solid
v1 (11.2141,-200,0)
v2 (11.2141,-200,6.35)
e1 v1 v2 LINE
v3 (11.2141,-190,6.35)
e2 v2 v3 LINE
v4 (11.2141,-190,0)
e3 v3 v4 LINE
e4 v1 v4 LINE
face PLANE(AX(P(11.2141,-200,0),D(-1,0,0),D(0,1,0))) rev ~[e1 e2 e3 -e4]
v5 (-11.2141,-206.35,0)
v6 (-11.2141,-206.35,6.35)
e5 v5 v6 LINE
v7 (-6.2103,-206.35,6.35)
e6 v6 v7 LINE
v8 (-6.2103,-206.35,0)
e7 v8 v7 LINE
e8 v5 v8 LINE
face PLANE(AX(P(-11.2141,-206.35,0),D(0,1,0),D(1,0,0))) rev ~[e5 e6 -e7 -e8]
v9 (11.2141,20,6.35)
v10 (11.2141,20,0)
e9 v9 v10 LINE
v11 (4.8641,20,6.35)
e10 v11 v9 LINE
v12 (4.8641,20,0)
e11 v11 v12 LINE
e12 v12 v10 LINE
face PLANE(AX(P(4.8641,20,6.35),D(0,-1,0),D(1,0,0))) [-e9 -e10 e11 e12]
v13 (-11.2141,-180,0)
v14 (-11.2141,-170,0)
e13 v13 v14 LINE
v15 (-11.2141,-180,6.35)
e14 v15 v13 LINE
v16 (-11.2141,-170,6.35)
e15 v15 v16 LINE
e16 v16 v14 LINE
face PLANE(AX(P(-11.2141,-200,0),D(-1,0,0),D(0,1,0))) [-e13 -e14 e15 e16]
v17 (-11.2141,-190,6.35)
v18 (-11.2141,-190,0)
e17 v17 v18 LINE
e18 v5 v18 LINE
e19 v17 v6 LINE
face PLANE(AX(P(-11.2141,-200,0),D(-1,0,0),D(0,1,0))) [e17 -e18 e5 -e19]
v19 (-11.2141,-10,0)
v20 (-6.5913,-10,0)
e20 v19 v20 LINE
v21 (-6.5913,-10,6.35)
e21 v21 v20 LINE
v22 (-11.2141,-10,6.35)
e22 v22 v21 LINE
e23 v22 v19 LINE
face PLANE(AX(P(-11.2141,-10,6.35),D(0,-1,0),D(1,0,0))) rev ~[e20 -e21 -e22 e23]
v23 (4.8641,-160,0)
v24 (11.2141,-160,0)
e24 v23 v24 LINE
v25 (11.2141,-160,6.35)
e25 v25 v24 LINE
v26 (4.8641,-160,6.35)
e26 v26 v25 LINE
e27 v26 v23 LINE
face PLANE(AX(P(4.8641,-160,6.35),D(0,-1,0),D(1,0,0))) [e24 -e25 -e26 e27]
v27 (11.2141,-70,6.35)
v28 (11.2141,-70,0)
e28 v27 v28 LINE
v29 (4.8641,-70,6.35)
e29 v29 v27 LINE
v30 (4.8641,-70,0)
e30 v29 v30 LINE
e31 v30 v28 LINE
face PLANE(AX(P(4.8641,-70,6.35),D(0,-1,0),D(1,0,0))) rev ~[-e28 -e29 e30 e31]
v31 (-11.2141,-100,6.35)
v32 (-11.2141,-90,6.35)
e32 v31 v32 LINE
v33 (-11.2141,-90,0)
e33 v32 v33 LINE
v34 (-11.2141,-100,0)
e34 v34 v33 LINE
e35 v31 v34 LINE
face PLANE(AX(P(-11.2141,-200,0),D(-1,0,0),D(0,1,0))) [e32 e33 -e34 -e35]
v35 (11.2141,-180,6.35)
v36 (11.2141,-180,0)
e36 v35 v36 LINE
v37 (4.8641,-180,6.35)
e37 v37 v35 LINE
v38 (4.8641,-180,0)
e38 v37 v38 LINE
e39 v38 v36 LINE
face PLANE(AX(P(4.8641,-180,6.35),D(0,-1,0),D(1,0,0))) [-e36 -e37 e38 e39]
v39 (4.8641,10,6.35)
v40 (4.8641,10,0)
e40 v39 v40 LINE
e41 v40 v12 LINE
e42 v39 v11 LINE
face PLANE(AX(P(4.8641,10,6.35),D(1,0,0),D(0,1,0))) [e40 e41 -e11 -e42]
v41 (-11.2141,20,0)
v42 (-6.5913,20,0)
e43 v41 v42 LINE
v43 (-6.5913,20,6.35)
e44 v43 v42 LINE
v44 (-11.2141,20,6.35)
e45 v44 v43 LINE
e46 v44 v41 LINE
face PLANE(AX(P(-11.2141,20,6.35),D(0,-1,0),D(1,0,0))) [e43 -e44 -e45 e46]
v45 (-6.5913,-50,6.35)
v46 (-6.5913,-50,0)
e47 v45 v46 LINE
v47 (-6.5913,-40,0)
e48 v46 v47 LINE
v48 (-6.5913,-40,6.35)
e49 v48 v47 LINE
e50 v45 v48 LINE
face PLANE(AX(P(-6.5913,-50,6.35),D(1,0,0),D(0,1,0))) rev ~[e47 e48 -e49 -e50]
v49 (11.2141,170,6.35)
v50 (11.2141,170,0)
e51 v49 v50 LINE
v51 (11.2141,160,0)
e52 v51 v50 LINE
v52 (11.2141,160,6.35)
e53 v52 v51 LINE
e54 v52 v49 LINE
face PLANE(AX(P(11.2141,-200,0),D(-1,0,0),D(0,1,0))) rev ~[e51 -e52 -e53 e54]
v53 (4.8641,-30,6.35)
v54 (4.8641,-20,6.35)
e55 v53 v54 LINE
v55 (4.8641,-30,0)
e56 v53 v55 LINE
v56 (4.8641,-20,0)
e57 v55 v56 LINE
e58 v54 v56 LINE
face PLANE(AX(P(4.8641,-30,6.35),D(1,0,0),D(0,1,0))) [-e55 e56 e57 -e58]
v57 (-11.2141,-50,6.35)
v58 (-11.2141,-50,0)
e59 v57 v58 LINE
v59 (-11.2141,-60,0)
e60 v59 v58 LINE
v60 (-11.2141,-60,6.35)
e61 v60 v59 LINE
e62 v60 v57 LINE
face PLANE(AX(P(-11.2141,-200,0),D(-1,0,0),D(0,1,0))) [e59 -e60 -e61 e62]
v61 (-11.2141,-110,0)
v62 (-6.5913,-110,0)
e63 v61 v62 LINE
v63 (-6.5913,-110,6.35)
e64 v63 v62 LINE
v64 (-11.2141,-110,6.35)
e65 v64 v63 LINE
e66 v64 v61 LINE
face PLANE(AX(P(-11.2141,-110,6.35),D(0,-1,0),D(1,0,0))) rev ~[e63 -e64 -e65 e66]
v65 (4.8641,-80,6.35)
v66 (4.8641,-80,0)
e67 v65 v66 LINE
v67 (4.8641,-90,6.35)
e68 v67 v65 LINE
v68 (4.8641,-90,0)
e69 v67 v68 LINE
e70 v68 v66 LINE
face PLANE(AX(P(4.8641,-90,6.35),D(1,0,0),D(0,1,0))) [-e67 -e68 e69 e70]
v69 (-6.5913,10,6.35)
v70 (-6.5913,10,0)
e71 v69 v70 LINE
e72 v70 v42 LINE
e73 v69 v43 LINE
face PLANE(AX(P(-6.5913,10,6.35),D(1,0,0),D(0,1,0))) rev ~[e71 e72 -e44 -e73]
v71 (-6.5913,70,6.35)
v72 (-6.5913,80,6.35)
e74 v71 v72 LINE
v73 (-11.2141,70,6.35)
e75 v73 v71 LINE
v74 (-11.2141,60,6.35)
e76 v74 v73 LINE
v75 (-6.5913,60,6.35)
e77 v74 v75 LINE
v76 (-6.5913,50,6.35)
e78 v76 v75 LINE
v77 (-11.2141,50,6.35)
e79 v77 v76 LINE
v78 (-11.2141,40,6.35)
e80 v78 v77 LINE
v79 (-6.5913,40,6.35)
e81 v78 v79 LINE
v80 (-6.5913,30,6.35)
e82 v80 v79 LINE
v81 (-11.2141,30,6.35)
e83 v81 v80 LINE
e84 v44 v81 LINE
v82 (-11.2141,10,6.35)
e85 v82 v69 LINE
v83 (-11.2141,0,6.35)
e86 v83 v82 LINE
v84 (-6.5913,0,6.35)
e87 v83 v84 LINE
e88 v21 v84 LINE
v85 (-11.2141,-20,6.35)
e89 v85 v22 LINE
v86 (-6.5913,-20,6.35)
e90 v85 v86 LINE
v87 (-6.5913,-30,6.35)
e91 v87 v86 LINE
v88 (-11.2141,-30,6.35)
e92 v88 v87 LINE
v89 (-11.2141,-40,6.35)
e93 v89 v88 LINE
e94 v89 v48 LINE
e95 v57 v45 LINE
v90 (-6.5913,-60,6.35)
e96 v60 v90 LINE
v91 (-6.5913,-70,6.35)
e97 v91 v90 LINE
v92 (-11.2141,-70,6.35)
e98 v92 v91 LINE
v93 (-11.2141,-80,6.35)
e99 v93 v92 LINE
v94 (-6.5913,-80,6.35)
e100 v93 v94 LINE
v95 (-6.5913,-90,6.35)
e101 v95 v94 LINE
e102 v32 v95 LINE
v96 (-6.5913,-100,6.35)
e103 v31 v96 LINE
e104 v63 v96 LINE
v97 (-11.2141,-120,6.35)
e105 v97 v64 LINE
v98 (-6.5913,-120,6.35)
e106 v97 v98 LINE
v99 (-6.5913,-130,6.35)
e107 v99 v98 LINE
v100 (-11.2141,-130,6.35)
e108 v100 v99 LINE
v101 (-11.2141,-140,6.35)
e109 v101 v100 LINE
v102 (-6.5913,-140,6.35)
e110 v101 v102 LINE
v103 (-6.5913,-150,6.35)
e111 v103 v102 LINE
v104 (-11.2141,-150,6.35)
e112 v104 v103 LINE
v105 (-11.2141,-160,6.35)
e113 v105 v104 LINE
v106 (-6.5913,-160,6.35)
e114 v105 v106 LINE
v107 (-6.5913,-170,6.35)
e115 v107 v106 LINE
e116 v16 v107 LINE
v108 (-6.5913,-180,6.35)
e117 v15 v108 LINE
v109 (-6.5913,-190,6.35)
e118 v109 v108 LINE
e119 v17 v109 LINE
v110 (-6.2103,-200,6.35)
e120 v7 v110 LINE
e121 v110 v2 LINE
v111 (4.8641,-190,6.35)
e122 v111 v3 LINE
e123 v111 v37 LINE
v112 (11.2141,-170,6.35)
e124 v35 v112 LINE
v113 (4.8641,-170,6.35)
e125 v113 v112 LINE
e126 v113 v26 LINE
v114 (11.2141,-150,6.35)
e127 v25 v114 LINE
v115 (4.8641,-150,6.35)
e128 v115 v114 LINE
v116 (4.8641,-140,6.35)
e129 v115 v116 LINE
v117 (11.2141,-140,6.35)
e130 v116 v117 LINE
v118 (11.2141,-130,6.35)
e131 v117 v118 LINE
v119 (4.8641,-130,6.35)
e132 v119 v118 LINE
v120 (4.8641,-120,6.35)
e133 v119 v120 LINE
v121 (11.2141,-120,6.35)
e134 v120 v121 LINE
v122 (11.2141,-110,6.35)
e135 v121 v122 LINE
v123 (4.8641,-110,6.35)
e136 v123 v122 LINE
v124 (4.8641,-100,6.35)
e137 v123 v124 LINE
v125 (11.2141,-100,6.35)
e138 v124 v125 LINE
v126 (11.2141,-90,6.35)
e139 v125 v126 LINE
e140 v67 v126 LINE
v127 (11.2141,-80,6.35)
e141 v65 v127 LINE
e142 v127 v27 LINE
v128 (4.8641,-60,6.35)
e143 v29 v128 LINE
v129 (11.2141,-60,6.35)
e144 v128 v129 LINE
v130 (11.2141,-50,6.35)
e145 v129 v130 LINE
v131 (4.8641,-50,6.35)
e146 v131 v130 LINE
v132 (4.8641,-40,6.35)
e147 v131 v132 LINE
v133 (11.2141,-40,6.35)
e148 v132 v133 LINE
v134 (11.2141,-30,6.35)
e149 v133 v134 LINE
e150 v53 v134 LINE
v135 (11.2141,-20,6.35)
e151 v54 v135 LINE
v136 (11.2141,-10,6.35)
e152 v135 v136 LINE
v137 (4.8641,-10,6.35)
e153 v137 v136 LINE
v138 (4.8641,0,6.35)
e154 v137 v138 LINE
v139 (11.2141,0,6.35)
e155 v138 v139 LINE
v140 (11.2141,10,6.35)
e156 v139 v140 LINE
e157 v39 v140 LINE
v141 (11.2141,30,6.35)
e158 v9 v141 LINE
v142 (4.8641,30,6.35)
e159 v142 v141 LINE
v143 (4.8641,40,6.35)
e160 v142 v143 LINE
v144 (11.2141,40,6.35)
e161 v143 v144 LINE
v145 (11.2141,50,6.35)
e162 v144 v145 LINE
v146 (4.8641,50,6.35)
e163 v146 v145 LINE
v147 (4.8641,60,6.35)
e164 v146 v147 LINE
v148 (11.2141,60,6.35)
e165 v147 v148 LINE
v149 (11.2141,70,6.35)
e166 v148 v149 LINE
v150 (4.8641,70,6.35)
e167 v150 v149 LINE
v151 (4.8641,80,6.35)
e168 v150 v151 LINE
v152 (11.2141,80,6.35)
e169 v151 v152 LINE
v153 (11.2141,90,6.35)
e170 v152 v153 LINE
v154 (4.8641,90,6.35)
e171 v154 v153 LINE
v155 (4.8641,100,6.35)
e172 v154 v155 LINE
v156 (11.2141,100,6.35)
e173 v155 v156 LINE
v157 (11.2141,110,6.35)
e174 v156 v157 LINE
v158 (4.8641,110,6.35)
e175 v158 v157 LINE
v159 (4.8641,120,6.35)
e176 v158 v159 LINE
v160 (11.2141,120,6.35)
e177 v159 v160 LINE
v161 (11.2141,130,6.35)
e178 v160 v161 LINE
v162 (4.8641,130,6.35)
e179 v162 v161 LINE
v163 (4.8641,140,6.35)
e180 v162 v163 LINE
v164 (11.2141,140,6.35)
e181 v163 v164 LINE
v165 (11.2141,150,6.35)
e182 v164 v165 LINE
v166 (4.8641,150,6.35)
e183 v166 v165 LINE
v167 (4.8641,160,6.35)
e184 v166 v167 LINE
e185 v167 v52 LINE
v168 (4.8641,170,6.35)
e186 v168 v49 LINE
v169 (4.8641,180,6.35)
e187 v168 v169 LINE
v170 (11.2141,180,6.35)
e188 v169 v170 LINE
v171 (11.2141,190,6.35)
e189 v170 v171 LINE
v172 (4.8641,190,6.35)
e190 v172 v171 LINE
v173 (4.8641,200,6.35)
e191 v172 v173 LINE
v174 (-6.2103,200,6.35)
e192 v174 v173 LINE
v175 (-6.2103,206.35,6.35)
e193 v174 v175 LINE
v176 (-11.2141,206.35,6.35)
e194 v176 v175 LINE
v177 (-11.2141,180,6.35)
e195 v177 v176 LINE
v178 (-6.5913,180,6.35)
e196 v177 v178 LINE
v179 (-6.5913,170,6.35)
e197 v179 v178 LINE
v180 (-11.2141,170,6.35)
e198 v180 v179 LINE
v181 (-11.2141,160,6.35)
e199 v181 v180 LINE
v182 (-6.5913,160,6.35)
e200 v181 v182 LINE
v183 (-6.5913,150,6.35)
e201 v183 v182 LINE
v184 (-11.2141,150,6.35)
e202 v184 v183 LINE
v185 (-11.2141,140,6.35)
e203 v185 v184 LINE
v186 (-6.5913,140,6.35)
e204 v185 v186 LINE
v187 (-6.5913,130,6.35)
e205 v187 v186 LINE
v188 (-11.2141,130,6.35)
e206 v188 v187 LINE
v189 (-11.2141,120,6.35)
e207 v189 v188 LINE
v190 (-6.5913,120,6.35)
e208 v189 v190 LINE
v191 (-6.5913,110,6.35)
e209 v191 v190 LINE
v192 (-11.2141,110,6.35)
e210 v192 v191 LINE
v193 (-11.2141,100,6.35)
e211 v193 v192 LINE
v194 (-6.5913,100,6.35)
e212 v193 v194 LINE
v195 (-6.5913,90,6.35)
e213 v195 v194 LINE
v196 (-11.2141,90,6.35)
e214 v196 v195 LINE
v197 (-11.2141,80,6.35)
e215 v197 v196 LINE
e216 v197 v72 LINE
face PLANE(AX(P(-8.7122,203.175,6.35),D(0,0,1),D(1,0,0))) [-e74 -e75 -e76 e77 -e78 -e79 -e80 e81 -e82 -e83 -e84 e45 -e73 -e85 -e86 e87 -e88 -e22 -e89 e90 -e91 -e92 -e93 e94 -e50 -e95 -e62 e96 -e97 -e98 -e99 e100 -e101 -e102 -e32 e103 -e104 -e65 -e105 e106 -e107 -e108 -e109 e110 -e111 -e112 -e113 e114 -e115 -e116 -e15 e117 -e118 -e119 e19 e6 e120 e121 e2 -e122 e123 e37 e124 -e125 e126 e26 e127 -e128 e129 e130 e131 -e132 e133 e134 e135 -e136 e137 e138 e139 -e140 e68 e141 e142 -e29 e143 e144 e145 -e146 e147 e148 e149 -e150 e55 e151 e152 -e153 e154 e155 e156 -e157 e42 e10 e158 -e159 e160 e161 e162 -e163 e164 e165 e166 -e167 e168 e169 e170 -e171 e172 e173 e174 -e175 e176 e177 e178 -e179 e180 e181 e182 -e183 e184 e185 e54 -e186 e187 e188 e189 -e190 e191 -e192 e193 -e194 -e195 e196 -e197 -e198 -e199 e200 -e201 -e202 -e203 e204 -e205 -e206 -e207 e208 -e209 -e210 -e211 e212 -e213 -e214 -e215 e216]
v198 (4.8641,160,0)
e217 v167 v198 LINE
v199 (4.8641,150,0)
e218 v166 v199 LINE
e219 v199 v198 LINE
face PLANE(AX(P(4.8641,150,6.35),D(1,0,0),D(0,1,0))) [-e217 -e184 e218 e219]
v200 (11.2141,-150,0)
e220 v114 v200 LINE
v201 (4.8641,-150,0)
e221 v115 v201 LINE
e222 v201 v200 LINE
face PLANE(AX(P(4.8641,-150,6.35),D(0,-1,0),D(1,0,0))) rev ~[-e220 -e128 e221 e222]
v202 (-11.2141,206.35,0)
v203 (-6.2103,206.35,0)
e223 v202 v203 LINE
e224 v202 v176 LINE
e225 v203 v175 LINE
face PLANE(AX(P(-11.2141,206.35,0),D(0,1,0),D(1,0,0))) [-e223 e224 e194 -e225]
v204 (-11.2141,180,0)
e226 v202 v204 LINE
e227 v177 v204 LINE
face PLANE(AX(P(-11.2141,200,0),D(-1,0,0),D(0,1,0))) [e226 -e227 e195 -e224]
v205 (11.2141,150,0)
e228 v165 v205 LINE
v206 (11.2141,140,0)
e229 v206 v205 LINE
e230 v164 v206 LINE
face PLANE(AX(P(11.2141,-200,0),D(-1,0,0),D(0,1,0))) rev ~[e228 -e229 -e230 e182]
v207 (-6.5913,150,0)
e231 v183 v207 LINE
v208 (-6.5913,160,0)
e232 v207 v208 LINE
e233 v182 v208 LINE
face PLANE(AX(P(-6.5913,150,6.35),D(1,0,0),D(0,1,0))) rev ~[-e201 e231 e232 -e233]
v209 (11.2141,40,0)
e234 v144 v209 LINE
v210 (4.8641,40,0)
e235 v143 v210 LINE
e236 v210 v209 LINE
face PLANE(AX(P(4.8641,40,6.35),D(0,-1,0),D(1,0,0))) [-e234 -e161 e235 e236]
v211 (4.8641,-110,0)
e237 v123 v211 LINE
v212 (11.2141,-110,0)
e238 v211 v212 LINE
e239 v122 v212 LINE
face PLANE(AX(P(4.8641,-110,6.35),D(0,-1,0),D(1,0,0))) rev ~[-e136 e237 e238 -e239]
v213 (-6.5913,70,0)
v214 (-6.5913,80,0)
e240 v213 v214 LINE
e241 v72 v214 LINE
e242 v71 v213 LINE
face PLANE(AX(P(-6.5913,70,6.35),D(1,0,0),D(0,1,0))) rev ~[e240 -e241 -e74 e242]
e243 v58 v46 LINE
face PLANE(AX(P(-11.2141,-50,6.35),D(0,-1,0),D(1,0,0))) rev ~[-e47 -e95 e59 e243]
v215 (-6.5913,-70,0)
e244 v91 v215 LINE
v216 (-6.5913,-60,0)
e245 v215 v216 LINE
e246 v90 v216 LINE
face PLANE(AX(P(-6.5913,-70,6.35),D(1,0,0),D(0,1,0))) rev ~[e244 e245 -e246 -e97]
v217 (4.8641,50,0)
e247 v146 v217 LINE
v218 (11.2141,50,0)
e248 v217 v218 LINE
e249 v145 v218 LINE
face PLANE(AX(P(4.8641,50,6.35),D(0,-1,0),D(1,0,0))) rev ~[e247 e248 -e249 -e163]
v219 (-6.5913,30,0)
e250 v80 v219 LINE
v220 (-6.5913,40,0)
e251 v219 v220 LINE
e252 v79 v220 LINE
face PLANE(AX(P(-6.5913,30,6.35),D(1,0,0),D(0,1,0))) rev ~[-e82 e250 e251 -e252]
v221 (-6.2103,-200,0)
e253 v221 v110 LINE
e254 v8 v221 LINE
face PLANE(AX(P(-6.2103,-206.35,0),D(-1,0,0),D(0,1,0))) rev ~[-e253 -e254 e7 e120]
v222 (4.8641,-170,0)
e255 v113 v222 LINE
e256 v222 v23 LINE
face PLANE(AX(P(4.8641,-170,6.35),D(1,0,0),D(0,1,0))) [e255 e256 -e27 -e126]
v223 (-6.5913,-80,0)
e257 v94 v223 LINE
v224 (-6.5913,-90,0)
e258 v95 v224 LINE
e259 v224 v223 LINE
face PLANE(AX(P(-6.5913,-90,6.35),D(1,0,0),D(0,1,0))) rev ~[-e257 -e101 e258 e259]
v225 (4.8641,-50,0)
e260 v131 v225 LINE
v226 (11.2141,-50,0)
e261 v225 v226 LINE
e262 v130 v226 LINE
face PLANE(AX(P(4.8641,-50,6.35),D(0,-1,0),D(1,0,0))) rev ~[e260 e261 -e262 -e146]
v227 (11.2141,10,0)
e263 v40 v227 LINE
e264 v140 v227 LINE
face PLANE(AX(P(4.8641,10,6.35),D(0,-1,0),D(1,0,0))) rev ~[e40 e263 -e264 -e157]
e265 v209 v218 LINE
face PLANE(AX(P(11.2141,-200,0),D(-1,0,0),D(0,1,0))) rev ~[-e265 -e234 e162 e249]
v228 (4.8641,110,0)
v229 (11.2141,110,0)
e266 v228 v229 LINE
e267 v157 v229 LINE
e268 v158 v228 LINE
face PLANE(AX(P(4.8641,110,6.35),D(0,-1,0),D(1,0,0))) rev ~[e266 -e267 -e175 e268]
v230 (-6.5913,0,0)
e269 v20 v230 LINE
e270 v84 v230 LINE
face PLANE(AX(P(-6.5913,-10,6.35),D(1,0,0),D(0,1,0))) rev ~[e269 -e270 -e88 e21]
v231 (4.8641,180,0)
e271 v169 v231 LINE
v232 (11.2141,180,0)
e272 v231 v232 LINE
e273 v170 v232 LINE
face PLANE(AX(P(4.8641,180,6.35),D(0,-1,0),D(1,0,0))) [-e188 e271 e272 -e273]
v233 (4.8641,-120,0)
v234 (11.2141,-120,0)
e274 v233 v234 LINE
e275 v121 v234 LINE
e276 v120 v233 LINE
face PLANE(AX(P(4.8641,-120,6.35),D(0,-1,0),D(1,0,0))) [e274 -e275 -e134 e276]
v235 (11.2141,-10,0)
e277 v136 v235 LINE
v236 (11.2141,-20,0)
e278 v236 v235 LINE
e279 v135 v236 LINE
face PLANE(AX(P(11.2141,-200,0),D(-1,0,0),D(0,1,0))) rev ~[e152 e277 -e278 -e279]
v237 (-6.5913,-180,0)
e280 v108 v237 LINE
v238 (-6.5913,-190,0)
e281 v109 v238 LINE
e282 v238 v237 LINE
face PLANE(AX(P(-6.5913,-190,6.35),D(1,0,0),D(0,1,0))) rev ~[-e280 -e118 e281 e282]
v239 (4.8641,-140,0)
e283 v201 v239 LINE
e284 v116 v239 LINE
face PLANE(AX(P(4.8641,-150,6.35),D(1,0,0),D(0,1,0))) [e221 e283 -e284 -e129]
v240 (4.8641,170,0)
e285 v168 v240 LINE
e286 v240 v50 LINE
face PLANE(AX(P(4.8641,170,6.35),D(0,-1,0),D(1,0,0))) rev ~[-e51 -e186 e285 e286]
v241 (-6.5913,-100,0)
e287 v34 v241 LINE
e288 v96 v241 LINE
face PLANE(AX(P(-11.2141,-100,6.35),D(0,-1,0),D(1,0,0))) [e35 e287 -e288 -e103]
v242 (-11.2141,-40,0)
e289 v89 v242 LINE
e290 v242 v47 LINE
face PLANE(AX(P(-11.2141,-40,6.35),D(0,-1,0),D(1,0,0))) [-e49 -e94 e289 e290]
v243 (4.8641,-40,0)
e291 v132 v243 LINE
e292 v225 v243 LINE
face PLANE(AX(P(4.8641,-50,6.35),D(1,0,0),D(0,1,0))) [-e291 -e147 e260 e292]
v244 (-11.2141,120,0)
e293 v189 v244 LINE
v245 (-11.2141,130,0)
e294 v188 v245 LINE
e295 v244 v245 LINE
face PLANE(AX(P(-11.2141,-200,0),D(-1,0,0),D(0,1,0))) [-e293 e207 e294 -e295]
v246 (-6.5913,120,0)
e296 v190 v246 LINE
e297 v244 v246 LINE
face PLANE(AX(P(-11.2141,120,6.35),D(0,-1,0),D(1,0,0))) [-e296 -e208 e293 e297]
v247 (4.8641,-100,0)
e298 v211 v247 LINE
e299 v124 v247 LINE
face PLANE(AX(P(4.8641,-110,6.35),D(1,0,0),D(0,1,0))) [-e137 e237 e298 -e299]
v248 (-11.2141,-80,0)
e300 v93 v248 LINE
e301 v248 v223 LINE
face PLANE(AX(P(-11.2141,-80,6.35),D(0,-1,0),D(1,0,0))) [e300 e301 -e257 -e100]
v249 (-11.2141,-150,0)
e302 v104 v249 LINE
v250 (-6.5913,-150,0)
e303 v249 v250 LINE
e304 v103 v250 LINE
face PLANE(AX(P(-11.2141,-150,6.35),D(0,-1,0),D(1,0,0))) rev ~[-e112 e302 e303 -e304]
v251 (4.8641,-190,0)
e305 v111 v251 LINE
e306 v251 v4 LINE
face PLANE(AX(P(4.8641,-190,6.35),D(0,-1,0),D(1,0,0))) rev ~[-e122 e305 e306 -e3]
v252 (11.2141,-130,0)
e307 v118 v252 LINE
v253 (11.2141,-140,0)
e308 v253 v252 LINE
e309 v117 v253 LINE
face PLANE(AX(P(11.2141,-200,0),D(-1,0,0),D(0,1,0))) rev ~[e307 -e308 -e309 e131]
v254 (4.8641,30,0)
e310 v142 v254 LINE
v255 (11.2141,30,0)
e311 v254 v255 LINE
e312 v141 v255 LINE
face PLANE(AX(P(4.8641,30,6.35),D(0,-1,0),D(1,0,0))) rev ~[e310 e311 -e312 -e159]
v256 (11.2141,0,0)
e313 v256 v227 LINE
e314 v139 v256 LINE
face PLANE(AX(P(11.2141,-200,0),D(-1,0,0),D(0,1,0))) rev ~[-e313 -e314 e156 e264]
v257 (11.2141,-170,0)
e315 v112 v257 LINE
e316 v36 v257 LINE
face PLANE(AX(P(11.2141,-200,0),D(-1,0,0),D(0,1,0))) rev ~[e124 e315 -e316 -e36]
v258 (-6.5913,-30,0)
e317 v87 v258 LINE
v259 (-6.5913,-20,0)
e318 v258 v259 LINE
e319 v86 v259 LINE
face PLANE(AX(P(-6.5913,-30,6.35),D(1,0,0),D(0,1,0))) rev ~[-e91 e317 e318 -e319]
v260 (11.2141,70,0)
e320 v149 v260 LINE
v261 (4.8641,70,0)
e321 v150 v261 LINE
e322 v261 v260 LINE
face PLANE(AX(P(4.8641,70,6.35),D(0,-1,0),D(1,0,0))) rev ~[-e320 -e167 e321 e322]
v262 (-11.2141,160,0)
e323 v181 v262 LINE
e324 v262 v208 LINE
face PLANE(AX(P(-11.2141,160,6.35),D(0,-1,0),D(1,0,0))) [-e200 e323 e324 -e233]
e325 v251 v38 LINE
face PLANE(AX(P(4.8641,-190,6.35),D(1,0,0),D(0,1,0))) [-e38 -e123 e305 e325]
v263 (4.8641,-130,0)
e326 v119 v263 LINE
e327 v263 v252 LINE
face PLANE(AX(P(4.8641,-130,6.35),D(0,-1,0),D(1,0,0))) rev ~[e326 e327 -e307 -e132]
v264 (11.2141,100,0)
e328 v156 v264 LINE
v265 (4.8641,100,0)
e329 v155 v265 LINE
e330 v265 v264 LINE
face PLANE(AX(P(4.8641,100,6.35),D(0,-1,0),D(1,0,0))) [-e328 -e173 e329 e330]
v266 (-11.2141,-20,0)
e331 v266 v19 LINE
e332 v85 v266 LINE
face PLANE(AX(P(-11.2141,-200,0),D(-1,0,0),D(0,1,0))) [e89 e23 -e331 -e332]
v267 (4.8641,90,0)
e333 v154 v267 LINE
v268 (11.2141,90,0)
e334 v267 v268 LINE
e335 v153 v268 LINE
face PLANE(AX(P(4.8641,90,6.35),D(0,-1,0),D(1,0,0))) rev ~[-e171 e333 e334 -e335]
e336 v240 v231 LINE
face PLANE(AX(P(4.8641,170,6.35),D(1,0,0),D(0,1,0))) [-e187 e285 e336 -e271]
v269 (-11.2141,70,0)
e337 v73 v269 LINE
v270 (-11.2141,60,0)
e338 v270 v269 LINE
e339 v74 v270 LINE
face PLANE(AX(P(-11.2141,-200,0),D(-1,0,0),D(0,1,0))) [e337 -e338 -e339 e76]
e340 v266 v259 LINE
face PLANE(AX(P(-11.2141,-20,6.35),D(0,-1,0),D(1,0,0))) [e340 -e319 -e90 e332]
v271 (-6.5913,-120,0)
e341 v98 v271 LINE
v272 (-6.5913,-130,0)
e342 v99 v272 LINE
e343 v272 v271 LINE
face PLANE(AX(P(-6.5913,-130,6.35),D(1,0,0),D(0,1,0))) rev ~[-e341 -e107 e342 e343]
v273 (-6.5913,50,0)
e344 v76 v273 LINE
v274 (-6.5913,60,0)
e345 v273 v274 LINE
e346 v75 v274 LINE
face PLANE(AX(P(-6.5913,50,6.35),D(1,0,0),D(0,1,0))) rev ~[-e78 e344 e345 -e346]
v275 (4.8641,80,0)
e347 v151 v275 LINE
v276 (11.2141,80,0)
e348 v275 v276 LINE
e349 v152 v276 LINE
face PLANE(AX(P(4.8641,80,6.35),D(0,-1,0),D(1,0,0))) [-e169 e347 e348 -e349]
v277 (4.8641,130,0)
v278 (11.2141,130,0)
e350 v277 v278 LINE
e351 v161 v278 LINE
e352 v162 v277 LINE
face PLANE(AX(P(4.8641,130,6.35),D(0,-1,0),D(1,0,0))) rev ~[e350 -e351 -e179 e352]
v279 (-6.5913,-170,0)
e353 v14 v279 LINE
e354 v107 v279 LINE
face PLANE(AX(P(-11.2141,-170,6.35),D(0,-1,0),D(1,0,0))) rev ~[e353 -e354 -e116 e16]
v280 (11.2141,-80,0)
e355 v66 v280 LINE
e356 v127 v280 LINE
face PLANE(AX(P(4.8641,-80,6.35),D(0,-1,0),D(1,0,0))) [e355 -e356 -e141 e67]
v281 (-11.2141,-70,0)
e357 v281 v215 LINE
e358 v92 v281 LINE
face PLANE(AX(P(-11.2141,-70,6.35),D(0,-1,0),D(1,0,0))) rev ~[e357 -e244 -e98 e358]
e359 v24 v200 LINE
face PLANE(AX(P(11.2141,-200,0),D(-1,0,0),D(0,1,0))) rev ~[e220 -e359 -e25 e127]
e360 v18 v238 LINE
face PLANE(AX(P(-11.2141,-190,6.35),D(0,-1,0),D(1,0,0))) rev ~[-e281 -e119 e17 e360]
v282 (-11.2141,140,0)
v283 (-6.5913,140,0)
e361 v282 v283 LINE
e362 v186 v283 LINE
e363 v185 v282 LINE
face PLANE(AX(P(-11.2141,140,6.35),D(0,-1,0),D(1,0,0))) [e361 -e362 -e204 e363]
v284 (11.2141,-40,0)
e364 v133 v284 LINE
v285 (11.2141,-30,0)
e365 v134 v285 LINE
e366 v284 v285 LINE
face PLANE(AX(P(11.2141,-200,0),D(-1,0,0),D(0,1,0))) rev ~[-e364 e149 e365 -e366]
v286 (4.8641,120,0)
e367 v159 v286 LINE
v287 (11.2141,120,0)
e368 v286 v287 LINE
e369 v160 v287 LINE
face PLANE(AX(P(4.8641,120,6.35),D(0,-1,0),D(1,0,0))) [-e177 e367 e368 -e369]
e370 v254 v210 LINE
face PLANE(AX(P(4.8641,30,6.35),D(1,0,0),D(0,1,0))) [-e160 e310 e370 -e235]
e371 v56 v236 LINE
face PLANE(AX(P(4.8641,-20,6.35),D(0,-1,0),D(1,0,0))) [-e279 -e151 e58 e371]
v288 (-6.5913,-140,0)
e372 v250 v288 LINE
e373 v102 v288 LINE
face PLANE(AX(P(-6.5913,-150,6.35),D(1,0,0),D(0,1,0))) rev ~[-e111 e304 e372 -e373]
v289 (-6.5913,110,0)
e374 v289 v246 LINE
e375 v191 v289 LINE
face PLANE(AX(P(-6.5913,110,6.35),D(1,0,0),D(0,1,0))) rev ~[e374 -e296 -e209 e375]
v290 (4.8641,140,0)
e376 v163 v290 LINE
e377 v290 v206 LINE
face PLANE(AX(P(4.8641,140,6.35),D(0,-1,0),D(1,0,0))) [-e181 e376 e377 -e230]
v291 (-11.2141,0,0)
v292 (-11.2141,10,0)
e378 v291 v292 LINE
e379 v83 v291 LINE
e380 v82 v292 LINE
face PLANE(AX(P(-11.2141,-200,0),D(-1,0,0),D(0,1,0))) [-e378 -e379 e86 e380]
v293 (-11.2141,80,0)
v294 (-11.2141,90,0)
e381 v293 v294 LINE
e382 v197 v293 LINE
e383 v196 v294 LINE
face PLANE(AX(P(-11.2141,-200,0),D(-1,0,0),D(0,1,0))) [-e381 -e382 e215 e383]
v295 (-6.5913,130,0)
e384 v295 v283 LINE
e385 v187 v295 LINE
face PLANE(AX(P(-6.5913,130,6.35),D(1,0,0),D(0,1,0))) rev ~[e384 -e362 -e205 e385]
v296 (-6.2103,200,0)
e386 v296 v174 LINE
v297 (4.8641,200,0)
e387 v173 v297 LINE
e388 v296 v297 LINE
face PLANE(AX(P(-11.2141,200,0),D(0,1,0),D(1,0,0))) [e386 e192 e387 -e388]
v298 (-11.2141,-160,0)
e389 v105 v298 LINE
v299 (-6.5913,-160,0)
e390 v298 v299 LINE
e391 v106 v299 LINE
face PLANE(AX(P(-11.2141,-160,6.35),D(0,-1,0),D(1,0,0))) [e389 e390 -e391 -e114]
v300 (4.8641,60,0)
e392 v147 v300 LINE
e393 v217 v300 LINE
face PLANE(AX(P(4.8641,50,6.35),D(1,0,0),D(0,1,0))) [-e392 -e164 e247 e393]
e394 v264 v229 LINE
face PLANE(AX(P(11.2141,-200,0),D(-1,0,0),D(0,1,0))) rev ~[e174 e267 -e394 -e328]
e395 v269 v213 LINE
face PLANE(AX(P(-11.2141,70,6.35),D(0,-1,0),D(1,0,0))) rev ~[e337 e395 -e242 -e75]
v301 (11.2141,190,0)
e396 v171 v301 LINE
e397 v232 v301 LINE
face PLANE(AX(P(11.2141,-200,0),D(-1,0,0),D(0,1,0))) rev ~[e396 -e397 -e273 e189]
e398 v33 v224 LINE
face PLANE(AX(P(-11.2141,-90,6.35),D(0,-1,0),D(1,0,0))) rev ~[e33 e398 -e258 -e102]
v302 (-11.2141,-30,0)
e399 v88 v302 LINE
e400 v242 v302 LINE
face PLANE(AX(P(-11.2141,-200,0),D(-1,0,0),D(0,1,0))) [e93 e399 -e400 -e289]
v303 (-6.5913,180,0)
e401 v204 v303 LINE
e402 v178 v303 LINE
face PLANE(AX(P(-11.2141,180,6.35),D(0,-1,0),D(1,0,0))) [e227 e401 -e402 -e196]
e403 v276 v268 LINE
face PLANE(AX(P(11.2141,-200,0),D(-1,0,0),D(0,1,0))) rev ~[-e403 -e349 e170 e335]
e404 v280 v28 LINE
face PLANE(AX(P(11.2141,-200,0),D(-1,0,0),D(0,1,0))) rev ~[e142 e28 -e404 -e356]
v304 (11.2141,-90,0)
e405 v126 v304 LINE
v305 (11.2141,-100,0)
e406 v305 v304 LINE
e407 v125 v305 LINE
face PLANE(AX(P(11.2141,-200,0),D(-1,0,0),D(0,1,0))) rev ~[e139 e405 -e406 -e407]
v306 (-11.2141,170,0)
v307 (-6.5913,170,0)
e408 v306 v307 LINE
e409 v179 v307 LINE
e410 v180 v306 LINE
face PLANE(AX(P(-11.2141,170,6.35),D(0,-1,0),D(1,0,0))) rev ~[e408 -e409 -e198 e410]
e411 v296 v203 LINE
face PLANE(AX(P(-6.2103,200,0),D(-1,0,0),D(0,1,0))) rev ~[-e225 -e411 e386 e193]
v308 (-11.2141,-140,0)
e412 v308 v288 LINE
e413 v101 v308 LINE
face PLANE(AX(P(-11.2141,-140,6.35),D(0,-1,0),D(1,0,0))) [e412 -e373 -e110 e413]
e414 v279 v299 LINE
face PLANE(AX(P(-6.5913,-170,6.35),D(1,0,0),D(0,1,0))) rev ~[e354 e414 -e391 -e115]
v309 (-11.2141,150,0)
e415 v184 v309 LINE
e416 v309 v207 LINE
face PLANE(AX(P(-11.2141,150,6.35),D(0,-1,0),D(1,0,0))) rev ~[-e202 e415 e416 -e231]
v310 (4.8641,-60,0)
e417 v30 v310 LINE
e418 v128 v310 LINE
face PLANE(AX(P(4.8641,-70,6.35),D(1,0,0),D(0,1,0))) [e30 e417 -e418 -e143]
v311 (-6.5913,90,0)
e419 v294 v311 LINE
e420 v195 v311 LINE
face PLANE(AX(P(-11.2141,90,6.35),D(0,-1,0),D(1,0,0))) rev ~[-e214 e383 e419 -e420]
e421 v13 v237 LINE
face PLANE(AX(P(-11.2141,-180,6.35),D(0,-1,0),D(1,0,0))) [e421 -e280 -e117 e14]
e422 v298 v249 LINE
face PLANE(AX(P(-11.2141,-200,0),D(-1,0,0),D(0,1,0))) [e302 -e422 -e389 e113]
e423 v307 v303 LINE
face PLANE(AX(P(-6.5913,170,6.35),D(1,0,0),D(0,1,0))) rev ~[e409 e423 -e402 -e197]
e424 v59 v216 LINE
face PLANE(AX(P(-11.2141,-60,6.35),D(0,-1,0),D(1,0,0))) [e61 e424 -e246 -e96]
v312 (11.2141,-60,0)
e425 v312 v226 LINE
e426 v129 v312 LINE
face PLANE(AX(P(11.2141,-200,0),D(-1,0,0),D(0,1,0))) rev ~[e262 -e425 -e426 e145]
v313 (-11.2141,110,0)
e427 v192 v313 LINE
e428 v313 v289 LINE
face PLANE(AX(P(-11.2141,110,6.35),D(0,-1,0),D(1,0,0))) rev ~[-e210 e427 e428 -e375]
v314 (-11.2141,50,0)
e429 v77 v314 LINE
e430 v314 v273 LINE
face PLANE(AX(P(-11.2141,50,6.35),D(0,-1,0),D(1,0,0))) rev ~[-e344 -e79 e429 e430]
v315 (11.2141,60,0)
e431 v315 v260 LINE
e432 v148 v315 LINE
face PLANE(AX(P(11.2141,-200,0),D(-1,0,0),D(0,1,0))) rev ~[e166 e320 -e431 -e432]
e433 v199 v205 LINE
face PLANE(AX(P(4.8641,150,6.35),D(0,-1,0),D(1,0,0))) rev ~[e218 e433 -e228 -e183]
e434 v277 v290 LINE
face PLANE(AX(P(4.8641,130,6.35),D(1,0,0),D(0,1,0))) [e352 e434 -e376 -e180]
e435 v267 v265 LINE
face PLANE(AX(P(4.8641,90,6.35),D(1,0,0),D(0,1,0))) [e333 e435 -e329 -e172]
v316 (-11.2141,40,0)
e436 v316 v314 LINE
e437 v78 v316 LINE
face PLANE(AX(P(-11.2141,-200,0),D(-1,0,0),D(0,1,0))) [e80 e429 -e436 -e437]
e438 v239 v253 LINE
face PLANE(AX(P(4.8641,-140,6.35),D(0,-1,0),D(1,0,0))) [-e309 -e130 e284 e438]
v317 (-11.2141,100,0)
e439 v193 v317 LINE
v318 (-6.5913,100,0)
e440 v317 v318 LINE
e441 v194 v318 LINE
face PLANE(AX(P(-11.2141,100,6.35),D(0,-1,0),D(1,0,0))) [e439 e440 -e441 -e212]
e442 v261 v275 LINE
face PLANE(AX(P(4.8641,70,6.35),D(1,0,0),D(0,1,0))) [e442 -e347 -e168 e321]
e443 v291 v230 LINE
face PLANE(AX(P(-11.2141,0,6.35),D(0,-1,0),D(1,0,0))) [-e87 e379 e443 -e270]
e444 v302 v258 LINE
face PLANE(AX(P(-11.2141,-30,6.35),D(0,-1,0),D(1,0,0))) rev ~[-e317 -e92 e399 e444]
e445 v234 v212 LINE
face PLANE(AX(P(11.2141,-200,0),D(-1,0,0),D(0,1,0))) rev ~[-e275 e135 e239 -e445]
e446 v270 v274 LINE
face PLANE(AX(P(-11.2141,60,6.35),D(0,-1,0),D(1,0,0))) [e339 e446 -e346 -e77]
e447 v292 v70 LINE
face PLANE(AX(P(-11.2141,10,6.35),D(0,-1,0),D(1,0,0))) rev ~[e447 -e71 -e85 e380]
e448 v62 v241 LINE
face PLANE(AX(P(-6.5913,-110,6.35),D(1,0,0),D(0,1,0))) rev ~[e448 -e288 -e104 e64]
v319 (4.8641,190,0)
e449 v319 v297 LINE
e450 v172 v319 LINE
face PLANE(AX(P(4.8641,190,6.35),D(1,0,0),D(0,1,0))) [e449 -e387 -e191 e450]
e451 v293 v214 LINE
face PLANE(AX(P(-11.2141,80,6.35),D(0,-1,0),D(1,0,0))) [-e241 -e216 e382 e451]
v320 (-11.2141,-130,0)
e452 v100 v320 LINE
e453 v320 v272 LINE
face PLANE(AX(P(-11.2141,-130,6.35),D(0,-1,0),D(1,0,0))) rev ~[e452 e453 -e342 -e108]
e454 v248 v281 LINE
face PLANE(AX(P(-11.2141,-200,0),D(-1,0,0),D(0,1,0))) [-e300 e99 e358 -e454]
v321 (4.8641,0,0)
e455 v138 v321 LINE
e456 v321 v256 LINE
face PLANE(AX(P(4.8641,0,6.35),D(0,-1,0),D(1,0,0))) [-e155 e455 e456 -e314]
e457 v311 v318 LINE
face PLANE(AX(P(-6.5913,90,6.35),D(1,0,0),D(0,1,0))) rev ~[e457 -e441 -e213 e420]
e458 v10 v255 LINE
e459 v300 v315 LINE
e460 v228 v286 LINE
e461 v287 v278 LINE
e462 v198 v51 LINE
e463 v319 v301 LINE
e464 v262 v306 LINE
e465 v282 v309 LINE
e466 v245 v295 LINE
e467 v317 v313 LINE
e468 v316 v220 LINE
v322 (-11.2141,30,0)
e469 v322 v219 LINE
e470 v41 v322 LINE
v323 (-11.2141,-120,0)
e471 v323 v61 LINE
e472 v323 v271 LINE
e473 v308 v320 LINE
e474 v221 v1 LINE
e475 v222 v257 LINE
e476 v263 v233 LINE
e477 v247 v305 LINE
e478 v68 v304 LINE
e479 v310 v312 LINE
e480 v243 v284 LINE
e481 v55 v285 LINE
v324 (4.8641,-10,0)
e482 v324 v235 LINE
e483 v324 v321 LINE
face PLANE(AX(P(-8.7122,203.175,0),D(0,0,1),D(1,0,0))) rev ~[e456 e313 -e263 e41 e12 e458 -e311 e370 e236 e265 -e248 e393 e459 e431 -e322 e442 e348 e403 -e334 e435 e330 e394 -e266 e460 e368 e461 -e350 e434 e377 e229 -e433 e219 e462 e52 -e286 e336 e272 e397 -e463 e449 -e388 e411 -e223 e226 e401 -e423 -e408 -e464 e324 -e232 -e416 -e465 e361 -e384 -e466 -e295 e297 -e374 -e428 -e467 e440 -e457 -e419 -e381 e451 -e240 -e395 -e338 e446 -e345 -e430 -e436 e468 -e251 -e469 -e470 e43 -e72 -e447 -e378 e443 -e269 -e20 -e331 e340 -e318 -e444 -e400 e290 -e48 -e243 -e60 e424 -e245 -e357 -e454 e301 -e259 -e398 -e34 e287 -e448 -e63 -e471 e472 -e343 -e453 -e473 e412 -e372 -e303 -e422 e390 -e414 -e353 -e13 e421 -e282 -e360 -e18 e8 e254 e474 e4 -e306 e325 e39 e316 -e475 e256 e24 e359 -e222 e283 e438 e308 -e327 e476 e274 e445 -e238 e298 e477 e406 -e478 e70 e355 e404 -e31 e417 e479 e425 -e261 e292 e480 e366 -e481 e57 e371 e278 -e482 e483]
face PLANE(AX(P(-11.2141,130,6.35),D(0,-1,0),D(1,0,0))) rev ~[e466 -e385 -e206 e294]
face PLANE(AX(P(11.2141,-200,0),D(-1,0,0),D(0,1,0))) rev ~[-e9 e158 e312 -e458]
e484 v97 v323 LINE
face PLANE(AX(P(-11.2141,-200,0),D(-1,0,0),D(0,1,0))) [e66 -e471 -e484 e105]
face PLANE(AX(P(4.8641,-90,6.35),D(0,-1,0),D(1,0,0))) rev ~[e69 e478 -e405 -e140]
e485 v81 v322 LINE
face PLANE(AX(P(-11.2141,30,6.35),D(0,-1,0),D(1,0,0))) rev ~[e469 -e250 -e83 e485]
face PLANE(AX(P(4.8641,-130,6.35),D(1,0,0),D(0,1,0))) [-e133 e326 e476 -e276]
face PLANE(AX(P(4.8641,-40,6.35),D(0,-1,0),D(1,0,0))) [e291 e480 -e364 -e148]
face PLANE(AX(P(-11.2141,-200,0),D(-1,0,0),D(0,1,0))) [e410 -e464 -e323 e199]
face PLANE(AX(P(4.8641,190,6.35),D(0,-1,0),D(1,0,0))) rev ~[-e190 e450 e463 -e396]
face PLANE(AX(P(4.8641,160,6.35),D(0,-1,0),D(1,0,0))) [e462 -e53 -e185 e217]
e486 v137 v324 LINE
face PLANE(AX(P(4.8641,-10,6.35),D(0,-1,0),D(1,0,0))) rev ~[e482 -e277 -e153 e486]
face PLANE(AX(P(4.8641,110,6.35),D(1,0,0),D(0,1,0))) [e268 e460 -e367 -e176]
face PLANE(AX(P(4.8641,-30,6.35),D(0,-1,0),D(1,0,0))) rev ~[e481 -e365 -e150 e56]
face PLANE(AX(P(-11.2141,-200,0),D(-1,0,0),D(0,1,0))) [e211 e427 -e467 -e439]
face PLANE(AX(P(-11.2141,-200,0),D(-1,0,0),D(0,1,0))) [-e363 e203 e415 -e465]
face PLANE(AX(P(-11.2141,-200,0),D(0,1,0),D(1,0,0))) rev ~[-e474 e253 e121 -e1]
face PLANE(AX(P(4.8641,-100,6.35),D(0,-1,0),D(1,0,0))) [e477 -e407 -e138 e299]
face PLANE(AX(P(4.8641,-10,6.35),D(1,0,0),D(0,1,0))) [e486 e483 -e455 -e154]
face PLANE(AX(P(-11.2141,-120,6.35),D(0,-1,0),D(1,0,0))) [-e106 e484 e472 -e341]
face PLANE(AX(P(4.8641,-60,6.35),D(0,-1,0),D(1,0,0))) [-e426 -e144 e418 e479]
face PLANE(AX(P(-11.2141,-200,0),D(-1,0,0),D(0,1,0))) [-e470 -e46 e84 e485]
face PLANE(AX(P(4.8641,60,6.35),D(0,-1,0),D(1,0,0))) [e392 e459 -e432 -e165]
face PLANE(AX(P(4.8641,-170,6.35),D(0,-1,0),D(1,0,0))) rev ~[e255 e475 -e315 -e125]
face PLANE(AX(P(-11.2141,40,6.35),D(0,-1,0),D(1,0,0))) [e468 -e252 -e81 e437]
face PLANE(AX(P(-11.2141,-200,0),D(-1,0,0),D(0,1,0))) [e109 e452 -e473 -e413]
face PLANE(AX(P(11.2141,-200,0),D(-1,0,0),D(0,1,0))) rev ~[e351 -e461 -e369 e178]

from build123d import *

# Parameters (mm, degrees)
SKETCH1_W           = 22.4282
SKETCH1_H           = 400
BOSS_EXTRUDE1_DEPTH = 6.35
SKETCH2_W           = 4.6228
SKETCH2_H           = 10
CUT_EXTRUDE2_DEPTH  = 6.35
SKETCH13_W          = 6.35
SKETCH13_H          = 10
CUT_EXTRUDE4_DEPTH  = 6.35
LPATTERN1_COUNT     = 19
LPATTERN1_PITCH     = 20
LPATTERN2_COUNT     = 20
LPATTERN2_PITCH     = 20
SKETCH14_W          = 5.0038
SKETCH14_H          = 6.35
BOSS_EXTRUDE4_DEPTH = 6.35


with BuildPart() as part:
    # Sketch1 → Boss-Extrude1 (new body)
    with BuildSketch(Plane.XY):
        Rectangle(SKETCH1_W, SKETCH1_H)
    extrude(amount=BOSS_EXTRUDE1_DEPTH)

    # Sketch2 → Cut-Extrude2 (cut)
    with BuildSketch(Plane.XY.offset(6.35)):
        with Locations((-8.9027, -185)):
            Rectangle(SKETCH2_W, SKETCH2_H)
    cut_extrude2 = extrude(amount=-CUT_EXTRUDE2_DEPTH, mode=Mode.SUBTRACT)

    # Sketch13 → Cut-Extrude4 (cut)
    with BuildSketch(Plane.XY.offset(6.35)):
        with Locations((8.0391, -185)):
            Rectangle(SKETCH13_W, SKETCH13_H)
    cut_extrude4 = extrude(amount=-CUT_EXTRUDE4_DEPTH, mode=Mode.SUBTRACT)

    # LPattern1: Cut-Extrude2 ×19
    with Locations(*[(0, i * LPATTERN1_PITCH, 0) for i in range(1, LPATTERN1_COUNT)]):
        add(cut_extrude2, mode=Mode.SUBTRACT)

    # LPattern2: Cut-Extrude4 ×20
    with Locations(*[(0, i * LPATTERN2_PITCH, 0) for i in range(1, LPATTERN2_COUNT)]):
        add(cut_extrude4, mode=Mode.SUBTRACT)

    # Sketch14 → Boss-Extrude4 (add)
    with BuildSketch(Plane.XY):
        with Locations((-8.7122, 203.175)):
            Rectangle(SKETCH14_W, SKETCH14_H)
        with Locations((-8.7122, -203.175)):
            Rectangle(SKETCH14_W, SKETCH14_H)
    extrude(amount=BOSS_EXTRUDE4_DEPTH)


solid = part.part
